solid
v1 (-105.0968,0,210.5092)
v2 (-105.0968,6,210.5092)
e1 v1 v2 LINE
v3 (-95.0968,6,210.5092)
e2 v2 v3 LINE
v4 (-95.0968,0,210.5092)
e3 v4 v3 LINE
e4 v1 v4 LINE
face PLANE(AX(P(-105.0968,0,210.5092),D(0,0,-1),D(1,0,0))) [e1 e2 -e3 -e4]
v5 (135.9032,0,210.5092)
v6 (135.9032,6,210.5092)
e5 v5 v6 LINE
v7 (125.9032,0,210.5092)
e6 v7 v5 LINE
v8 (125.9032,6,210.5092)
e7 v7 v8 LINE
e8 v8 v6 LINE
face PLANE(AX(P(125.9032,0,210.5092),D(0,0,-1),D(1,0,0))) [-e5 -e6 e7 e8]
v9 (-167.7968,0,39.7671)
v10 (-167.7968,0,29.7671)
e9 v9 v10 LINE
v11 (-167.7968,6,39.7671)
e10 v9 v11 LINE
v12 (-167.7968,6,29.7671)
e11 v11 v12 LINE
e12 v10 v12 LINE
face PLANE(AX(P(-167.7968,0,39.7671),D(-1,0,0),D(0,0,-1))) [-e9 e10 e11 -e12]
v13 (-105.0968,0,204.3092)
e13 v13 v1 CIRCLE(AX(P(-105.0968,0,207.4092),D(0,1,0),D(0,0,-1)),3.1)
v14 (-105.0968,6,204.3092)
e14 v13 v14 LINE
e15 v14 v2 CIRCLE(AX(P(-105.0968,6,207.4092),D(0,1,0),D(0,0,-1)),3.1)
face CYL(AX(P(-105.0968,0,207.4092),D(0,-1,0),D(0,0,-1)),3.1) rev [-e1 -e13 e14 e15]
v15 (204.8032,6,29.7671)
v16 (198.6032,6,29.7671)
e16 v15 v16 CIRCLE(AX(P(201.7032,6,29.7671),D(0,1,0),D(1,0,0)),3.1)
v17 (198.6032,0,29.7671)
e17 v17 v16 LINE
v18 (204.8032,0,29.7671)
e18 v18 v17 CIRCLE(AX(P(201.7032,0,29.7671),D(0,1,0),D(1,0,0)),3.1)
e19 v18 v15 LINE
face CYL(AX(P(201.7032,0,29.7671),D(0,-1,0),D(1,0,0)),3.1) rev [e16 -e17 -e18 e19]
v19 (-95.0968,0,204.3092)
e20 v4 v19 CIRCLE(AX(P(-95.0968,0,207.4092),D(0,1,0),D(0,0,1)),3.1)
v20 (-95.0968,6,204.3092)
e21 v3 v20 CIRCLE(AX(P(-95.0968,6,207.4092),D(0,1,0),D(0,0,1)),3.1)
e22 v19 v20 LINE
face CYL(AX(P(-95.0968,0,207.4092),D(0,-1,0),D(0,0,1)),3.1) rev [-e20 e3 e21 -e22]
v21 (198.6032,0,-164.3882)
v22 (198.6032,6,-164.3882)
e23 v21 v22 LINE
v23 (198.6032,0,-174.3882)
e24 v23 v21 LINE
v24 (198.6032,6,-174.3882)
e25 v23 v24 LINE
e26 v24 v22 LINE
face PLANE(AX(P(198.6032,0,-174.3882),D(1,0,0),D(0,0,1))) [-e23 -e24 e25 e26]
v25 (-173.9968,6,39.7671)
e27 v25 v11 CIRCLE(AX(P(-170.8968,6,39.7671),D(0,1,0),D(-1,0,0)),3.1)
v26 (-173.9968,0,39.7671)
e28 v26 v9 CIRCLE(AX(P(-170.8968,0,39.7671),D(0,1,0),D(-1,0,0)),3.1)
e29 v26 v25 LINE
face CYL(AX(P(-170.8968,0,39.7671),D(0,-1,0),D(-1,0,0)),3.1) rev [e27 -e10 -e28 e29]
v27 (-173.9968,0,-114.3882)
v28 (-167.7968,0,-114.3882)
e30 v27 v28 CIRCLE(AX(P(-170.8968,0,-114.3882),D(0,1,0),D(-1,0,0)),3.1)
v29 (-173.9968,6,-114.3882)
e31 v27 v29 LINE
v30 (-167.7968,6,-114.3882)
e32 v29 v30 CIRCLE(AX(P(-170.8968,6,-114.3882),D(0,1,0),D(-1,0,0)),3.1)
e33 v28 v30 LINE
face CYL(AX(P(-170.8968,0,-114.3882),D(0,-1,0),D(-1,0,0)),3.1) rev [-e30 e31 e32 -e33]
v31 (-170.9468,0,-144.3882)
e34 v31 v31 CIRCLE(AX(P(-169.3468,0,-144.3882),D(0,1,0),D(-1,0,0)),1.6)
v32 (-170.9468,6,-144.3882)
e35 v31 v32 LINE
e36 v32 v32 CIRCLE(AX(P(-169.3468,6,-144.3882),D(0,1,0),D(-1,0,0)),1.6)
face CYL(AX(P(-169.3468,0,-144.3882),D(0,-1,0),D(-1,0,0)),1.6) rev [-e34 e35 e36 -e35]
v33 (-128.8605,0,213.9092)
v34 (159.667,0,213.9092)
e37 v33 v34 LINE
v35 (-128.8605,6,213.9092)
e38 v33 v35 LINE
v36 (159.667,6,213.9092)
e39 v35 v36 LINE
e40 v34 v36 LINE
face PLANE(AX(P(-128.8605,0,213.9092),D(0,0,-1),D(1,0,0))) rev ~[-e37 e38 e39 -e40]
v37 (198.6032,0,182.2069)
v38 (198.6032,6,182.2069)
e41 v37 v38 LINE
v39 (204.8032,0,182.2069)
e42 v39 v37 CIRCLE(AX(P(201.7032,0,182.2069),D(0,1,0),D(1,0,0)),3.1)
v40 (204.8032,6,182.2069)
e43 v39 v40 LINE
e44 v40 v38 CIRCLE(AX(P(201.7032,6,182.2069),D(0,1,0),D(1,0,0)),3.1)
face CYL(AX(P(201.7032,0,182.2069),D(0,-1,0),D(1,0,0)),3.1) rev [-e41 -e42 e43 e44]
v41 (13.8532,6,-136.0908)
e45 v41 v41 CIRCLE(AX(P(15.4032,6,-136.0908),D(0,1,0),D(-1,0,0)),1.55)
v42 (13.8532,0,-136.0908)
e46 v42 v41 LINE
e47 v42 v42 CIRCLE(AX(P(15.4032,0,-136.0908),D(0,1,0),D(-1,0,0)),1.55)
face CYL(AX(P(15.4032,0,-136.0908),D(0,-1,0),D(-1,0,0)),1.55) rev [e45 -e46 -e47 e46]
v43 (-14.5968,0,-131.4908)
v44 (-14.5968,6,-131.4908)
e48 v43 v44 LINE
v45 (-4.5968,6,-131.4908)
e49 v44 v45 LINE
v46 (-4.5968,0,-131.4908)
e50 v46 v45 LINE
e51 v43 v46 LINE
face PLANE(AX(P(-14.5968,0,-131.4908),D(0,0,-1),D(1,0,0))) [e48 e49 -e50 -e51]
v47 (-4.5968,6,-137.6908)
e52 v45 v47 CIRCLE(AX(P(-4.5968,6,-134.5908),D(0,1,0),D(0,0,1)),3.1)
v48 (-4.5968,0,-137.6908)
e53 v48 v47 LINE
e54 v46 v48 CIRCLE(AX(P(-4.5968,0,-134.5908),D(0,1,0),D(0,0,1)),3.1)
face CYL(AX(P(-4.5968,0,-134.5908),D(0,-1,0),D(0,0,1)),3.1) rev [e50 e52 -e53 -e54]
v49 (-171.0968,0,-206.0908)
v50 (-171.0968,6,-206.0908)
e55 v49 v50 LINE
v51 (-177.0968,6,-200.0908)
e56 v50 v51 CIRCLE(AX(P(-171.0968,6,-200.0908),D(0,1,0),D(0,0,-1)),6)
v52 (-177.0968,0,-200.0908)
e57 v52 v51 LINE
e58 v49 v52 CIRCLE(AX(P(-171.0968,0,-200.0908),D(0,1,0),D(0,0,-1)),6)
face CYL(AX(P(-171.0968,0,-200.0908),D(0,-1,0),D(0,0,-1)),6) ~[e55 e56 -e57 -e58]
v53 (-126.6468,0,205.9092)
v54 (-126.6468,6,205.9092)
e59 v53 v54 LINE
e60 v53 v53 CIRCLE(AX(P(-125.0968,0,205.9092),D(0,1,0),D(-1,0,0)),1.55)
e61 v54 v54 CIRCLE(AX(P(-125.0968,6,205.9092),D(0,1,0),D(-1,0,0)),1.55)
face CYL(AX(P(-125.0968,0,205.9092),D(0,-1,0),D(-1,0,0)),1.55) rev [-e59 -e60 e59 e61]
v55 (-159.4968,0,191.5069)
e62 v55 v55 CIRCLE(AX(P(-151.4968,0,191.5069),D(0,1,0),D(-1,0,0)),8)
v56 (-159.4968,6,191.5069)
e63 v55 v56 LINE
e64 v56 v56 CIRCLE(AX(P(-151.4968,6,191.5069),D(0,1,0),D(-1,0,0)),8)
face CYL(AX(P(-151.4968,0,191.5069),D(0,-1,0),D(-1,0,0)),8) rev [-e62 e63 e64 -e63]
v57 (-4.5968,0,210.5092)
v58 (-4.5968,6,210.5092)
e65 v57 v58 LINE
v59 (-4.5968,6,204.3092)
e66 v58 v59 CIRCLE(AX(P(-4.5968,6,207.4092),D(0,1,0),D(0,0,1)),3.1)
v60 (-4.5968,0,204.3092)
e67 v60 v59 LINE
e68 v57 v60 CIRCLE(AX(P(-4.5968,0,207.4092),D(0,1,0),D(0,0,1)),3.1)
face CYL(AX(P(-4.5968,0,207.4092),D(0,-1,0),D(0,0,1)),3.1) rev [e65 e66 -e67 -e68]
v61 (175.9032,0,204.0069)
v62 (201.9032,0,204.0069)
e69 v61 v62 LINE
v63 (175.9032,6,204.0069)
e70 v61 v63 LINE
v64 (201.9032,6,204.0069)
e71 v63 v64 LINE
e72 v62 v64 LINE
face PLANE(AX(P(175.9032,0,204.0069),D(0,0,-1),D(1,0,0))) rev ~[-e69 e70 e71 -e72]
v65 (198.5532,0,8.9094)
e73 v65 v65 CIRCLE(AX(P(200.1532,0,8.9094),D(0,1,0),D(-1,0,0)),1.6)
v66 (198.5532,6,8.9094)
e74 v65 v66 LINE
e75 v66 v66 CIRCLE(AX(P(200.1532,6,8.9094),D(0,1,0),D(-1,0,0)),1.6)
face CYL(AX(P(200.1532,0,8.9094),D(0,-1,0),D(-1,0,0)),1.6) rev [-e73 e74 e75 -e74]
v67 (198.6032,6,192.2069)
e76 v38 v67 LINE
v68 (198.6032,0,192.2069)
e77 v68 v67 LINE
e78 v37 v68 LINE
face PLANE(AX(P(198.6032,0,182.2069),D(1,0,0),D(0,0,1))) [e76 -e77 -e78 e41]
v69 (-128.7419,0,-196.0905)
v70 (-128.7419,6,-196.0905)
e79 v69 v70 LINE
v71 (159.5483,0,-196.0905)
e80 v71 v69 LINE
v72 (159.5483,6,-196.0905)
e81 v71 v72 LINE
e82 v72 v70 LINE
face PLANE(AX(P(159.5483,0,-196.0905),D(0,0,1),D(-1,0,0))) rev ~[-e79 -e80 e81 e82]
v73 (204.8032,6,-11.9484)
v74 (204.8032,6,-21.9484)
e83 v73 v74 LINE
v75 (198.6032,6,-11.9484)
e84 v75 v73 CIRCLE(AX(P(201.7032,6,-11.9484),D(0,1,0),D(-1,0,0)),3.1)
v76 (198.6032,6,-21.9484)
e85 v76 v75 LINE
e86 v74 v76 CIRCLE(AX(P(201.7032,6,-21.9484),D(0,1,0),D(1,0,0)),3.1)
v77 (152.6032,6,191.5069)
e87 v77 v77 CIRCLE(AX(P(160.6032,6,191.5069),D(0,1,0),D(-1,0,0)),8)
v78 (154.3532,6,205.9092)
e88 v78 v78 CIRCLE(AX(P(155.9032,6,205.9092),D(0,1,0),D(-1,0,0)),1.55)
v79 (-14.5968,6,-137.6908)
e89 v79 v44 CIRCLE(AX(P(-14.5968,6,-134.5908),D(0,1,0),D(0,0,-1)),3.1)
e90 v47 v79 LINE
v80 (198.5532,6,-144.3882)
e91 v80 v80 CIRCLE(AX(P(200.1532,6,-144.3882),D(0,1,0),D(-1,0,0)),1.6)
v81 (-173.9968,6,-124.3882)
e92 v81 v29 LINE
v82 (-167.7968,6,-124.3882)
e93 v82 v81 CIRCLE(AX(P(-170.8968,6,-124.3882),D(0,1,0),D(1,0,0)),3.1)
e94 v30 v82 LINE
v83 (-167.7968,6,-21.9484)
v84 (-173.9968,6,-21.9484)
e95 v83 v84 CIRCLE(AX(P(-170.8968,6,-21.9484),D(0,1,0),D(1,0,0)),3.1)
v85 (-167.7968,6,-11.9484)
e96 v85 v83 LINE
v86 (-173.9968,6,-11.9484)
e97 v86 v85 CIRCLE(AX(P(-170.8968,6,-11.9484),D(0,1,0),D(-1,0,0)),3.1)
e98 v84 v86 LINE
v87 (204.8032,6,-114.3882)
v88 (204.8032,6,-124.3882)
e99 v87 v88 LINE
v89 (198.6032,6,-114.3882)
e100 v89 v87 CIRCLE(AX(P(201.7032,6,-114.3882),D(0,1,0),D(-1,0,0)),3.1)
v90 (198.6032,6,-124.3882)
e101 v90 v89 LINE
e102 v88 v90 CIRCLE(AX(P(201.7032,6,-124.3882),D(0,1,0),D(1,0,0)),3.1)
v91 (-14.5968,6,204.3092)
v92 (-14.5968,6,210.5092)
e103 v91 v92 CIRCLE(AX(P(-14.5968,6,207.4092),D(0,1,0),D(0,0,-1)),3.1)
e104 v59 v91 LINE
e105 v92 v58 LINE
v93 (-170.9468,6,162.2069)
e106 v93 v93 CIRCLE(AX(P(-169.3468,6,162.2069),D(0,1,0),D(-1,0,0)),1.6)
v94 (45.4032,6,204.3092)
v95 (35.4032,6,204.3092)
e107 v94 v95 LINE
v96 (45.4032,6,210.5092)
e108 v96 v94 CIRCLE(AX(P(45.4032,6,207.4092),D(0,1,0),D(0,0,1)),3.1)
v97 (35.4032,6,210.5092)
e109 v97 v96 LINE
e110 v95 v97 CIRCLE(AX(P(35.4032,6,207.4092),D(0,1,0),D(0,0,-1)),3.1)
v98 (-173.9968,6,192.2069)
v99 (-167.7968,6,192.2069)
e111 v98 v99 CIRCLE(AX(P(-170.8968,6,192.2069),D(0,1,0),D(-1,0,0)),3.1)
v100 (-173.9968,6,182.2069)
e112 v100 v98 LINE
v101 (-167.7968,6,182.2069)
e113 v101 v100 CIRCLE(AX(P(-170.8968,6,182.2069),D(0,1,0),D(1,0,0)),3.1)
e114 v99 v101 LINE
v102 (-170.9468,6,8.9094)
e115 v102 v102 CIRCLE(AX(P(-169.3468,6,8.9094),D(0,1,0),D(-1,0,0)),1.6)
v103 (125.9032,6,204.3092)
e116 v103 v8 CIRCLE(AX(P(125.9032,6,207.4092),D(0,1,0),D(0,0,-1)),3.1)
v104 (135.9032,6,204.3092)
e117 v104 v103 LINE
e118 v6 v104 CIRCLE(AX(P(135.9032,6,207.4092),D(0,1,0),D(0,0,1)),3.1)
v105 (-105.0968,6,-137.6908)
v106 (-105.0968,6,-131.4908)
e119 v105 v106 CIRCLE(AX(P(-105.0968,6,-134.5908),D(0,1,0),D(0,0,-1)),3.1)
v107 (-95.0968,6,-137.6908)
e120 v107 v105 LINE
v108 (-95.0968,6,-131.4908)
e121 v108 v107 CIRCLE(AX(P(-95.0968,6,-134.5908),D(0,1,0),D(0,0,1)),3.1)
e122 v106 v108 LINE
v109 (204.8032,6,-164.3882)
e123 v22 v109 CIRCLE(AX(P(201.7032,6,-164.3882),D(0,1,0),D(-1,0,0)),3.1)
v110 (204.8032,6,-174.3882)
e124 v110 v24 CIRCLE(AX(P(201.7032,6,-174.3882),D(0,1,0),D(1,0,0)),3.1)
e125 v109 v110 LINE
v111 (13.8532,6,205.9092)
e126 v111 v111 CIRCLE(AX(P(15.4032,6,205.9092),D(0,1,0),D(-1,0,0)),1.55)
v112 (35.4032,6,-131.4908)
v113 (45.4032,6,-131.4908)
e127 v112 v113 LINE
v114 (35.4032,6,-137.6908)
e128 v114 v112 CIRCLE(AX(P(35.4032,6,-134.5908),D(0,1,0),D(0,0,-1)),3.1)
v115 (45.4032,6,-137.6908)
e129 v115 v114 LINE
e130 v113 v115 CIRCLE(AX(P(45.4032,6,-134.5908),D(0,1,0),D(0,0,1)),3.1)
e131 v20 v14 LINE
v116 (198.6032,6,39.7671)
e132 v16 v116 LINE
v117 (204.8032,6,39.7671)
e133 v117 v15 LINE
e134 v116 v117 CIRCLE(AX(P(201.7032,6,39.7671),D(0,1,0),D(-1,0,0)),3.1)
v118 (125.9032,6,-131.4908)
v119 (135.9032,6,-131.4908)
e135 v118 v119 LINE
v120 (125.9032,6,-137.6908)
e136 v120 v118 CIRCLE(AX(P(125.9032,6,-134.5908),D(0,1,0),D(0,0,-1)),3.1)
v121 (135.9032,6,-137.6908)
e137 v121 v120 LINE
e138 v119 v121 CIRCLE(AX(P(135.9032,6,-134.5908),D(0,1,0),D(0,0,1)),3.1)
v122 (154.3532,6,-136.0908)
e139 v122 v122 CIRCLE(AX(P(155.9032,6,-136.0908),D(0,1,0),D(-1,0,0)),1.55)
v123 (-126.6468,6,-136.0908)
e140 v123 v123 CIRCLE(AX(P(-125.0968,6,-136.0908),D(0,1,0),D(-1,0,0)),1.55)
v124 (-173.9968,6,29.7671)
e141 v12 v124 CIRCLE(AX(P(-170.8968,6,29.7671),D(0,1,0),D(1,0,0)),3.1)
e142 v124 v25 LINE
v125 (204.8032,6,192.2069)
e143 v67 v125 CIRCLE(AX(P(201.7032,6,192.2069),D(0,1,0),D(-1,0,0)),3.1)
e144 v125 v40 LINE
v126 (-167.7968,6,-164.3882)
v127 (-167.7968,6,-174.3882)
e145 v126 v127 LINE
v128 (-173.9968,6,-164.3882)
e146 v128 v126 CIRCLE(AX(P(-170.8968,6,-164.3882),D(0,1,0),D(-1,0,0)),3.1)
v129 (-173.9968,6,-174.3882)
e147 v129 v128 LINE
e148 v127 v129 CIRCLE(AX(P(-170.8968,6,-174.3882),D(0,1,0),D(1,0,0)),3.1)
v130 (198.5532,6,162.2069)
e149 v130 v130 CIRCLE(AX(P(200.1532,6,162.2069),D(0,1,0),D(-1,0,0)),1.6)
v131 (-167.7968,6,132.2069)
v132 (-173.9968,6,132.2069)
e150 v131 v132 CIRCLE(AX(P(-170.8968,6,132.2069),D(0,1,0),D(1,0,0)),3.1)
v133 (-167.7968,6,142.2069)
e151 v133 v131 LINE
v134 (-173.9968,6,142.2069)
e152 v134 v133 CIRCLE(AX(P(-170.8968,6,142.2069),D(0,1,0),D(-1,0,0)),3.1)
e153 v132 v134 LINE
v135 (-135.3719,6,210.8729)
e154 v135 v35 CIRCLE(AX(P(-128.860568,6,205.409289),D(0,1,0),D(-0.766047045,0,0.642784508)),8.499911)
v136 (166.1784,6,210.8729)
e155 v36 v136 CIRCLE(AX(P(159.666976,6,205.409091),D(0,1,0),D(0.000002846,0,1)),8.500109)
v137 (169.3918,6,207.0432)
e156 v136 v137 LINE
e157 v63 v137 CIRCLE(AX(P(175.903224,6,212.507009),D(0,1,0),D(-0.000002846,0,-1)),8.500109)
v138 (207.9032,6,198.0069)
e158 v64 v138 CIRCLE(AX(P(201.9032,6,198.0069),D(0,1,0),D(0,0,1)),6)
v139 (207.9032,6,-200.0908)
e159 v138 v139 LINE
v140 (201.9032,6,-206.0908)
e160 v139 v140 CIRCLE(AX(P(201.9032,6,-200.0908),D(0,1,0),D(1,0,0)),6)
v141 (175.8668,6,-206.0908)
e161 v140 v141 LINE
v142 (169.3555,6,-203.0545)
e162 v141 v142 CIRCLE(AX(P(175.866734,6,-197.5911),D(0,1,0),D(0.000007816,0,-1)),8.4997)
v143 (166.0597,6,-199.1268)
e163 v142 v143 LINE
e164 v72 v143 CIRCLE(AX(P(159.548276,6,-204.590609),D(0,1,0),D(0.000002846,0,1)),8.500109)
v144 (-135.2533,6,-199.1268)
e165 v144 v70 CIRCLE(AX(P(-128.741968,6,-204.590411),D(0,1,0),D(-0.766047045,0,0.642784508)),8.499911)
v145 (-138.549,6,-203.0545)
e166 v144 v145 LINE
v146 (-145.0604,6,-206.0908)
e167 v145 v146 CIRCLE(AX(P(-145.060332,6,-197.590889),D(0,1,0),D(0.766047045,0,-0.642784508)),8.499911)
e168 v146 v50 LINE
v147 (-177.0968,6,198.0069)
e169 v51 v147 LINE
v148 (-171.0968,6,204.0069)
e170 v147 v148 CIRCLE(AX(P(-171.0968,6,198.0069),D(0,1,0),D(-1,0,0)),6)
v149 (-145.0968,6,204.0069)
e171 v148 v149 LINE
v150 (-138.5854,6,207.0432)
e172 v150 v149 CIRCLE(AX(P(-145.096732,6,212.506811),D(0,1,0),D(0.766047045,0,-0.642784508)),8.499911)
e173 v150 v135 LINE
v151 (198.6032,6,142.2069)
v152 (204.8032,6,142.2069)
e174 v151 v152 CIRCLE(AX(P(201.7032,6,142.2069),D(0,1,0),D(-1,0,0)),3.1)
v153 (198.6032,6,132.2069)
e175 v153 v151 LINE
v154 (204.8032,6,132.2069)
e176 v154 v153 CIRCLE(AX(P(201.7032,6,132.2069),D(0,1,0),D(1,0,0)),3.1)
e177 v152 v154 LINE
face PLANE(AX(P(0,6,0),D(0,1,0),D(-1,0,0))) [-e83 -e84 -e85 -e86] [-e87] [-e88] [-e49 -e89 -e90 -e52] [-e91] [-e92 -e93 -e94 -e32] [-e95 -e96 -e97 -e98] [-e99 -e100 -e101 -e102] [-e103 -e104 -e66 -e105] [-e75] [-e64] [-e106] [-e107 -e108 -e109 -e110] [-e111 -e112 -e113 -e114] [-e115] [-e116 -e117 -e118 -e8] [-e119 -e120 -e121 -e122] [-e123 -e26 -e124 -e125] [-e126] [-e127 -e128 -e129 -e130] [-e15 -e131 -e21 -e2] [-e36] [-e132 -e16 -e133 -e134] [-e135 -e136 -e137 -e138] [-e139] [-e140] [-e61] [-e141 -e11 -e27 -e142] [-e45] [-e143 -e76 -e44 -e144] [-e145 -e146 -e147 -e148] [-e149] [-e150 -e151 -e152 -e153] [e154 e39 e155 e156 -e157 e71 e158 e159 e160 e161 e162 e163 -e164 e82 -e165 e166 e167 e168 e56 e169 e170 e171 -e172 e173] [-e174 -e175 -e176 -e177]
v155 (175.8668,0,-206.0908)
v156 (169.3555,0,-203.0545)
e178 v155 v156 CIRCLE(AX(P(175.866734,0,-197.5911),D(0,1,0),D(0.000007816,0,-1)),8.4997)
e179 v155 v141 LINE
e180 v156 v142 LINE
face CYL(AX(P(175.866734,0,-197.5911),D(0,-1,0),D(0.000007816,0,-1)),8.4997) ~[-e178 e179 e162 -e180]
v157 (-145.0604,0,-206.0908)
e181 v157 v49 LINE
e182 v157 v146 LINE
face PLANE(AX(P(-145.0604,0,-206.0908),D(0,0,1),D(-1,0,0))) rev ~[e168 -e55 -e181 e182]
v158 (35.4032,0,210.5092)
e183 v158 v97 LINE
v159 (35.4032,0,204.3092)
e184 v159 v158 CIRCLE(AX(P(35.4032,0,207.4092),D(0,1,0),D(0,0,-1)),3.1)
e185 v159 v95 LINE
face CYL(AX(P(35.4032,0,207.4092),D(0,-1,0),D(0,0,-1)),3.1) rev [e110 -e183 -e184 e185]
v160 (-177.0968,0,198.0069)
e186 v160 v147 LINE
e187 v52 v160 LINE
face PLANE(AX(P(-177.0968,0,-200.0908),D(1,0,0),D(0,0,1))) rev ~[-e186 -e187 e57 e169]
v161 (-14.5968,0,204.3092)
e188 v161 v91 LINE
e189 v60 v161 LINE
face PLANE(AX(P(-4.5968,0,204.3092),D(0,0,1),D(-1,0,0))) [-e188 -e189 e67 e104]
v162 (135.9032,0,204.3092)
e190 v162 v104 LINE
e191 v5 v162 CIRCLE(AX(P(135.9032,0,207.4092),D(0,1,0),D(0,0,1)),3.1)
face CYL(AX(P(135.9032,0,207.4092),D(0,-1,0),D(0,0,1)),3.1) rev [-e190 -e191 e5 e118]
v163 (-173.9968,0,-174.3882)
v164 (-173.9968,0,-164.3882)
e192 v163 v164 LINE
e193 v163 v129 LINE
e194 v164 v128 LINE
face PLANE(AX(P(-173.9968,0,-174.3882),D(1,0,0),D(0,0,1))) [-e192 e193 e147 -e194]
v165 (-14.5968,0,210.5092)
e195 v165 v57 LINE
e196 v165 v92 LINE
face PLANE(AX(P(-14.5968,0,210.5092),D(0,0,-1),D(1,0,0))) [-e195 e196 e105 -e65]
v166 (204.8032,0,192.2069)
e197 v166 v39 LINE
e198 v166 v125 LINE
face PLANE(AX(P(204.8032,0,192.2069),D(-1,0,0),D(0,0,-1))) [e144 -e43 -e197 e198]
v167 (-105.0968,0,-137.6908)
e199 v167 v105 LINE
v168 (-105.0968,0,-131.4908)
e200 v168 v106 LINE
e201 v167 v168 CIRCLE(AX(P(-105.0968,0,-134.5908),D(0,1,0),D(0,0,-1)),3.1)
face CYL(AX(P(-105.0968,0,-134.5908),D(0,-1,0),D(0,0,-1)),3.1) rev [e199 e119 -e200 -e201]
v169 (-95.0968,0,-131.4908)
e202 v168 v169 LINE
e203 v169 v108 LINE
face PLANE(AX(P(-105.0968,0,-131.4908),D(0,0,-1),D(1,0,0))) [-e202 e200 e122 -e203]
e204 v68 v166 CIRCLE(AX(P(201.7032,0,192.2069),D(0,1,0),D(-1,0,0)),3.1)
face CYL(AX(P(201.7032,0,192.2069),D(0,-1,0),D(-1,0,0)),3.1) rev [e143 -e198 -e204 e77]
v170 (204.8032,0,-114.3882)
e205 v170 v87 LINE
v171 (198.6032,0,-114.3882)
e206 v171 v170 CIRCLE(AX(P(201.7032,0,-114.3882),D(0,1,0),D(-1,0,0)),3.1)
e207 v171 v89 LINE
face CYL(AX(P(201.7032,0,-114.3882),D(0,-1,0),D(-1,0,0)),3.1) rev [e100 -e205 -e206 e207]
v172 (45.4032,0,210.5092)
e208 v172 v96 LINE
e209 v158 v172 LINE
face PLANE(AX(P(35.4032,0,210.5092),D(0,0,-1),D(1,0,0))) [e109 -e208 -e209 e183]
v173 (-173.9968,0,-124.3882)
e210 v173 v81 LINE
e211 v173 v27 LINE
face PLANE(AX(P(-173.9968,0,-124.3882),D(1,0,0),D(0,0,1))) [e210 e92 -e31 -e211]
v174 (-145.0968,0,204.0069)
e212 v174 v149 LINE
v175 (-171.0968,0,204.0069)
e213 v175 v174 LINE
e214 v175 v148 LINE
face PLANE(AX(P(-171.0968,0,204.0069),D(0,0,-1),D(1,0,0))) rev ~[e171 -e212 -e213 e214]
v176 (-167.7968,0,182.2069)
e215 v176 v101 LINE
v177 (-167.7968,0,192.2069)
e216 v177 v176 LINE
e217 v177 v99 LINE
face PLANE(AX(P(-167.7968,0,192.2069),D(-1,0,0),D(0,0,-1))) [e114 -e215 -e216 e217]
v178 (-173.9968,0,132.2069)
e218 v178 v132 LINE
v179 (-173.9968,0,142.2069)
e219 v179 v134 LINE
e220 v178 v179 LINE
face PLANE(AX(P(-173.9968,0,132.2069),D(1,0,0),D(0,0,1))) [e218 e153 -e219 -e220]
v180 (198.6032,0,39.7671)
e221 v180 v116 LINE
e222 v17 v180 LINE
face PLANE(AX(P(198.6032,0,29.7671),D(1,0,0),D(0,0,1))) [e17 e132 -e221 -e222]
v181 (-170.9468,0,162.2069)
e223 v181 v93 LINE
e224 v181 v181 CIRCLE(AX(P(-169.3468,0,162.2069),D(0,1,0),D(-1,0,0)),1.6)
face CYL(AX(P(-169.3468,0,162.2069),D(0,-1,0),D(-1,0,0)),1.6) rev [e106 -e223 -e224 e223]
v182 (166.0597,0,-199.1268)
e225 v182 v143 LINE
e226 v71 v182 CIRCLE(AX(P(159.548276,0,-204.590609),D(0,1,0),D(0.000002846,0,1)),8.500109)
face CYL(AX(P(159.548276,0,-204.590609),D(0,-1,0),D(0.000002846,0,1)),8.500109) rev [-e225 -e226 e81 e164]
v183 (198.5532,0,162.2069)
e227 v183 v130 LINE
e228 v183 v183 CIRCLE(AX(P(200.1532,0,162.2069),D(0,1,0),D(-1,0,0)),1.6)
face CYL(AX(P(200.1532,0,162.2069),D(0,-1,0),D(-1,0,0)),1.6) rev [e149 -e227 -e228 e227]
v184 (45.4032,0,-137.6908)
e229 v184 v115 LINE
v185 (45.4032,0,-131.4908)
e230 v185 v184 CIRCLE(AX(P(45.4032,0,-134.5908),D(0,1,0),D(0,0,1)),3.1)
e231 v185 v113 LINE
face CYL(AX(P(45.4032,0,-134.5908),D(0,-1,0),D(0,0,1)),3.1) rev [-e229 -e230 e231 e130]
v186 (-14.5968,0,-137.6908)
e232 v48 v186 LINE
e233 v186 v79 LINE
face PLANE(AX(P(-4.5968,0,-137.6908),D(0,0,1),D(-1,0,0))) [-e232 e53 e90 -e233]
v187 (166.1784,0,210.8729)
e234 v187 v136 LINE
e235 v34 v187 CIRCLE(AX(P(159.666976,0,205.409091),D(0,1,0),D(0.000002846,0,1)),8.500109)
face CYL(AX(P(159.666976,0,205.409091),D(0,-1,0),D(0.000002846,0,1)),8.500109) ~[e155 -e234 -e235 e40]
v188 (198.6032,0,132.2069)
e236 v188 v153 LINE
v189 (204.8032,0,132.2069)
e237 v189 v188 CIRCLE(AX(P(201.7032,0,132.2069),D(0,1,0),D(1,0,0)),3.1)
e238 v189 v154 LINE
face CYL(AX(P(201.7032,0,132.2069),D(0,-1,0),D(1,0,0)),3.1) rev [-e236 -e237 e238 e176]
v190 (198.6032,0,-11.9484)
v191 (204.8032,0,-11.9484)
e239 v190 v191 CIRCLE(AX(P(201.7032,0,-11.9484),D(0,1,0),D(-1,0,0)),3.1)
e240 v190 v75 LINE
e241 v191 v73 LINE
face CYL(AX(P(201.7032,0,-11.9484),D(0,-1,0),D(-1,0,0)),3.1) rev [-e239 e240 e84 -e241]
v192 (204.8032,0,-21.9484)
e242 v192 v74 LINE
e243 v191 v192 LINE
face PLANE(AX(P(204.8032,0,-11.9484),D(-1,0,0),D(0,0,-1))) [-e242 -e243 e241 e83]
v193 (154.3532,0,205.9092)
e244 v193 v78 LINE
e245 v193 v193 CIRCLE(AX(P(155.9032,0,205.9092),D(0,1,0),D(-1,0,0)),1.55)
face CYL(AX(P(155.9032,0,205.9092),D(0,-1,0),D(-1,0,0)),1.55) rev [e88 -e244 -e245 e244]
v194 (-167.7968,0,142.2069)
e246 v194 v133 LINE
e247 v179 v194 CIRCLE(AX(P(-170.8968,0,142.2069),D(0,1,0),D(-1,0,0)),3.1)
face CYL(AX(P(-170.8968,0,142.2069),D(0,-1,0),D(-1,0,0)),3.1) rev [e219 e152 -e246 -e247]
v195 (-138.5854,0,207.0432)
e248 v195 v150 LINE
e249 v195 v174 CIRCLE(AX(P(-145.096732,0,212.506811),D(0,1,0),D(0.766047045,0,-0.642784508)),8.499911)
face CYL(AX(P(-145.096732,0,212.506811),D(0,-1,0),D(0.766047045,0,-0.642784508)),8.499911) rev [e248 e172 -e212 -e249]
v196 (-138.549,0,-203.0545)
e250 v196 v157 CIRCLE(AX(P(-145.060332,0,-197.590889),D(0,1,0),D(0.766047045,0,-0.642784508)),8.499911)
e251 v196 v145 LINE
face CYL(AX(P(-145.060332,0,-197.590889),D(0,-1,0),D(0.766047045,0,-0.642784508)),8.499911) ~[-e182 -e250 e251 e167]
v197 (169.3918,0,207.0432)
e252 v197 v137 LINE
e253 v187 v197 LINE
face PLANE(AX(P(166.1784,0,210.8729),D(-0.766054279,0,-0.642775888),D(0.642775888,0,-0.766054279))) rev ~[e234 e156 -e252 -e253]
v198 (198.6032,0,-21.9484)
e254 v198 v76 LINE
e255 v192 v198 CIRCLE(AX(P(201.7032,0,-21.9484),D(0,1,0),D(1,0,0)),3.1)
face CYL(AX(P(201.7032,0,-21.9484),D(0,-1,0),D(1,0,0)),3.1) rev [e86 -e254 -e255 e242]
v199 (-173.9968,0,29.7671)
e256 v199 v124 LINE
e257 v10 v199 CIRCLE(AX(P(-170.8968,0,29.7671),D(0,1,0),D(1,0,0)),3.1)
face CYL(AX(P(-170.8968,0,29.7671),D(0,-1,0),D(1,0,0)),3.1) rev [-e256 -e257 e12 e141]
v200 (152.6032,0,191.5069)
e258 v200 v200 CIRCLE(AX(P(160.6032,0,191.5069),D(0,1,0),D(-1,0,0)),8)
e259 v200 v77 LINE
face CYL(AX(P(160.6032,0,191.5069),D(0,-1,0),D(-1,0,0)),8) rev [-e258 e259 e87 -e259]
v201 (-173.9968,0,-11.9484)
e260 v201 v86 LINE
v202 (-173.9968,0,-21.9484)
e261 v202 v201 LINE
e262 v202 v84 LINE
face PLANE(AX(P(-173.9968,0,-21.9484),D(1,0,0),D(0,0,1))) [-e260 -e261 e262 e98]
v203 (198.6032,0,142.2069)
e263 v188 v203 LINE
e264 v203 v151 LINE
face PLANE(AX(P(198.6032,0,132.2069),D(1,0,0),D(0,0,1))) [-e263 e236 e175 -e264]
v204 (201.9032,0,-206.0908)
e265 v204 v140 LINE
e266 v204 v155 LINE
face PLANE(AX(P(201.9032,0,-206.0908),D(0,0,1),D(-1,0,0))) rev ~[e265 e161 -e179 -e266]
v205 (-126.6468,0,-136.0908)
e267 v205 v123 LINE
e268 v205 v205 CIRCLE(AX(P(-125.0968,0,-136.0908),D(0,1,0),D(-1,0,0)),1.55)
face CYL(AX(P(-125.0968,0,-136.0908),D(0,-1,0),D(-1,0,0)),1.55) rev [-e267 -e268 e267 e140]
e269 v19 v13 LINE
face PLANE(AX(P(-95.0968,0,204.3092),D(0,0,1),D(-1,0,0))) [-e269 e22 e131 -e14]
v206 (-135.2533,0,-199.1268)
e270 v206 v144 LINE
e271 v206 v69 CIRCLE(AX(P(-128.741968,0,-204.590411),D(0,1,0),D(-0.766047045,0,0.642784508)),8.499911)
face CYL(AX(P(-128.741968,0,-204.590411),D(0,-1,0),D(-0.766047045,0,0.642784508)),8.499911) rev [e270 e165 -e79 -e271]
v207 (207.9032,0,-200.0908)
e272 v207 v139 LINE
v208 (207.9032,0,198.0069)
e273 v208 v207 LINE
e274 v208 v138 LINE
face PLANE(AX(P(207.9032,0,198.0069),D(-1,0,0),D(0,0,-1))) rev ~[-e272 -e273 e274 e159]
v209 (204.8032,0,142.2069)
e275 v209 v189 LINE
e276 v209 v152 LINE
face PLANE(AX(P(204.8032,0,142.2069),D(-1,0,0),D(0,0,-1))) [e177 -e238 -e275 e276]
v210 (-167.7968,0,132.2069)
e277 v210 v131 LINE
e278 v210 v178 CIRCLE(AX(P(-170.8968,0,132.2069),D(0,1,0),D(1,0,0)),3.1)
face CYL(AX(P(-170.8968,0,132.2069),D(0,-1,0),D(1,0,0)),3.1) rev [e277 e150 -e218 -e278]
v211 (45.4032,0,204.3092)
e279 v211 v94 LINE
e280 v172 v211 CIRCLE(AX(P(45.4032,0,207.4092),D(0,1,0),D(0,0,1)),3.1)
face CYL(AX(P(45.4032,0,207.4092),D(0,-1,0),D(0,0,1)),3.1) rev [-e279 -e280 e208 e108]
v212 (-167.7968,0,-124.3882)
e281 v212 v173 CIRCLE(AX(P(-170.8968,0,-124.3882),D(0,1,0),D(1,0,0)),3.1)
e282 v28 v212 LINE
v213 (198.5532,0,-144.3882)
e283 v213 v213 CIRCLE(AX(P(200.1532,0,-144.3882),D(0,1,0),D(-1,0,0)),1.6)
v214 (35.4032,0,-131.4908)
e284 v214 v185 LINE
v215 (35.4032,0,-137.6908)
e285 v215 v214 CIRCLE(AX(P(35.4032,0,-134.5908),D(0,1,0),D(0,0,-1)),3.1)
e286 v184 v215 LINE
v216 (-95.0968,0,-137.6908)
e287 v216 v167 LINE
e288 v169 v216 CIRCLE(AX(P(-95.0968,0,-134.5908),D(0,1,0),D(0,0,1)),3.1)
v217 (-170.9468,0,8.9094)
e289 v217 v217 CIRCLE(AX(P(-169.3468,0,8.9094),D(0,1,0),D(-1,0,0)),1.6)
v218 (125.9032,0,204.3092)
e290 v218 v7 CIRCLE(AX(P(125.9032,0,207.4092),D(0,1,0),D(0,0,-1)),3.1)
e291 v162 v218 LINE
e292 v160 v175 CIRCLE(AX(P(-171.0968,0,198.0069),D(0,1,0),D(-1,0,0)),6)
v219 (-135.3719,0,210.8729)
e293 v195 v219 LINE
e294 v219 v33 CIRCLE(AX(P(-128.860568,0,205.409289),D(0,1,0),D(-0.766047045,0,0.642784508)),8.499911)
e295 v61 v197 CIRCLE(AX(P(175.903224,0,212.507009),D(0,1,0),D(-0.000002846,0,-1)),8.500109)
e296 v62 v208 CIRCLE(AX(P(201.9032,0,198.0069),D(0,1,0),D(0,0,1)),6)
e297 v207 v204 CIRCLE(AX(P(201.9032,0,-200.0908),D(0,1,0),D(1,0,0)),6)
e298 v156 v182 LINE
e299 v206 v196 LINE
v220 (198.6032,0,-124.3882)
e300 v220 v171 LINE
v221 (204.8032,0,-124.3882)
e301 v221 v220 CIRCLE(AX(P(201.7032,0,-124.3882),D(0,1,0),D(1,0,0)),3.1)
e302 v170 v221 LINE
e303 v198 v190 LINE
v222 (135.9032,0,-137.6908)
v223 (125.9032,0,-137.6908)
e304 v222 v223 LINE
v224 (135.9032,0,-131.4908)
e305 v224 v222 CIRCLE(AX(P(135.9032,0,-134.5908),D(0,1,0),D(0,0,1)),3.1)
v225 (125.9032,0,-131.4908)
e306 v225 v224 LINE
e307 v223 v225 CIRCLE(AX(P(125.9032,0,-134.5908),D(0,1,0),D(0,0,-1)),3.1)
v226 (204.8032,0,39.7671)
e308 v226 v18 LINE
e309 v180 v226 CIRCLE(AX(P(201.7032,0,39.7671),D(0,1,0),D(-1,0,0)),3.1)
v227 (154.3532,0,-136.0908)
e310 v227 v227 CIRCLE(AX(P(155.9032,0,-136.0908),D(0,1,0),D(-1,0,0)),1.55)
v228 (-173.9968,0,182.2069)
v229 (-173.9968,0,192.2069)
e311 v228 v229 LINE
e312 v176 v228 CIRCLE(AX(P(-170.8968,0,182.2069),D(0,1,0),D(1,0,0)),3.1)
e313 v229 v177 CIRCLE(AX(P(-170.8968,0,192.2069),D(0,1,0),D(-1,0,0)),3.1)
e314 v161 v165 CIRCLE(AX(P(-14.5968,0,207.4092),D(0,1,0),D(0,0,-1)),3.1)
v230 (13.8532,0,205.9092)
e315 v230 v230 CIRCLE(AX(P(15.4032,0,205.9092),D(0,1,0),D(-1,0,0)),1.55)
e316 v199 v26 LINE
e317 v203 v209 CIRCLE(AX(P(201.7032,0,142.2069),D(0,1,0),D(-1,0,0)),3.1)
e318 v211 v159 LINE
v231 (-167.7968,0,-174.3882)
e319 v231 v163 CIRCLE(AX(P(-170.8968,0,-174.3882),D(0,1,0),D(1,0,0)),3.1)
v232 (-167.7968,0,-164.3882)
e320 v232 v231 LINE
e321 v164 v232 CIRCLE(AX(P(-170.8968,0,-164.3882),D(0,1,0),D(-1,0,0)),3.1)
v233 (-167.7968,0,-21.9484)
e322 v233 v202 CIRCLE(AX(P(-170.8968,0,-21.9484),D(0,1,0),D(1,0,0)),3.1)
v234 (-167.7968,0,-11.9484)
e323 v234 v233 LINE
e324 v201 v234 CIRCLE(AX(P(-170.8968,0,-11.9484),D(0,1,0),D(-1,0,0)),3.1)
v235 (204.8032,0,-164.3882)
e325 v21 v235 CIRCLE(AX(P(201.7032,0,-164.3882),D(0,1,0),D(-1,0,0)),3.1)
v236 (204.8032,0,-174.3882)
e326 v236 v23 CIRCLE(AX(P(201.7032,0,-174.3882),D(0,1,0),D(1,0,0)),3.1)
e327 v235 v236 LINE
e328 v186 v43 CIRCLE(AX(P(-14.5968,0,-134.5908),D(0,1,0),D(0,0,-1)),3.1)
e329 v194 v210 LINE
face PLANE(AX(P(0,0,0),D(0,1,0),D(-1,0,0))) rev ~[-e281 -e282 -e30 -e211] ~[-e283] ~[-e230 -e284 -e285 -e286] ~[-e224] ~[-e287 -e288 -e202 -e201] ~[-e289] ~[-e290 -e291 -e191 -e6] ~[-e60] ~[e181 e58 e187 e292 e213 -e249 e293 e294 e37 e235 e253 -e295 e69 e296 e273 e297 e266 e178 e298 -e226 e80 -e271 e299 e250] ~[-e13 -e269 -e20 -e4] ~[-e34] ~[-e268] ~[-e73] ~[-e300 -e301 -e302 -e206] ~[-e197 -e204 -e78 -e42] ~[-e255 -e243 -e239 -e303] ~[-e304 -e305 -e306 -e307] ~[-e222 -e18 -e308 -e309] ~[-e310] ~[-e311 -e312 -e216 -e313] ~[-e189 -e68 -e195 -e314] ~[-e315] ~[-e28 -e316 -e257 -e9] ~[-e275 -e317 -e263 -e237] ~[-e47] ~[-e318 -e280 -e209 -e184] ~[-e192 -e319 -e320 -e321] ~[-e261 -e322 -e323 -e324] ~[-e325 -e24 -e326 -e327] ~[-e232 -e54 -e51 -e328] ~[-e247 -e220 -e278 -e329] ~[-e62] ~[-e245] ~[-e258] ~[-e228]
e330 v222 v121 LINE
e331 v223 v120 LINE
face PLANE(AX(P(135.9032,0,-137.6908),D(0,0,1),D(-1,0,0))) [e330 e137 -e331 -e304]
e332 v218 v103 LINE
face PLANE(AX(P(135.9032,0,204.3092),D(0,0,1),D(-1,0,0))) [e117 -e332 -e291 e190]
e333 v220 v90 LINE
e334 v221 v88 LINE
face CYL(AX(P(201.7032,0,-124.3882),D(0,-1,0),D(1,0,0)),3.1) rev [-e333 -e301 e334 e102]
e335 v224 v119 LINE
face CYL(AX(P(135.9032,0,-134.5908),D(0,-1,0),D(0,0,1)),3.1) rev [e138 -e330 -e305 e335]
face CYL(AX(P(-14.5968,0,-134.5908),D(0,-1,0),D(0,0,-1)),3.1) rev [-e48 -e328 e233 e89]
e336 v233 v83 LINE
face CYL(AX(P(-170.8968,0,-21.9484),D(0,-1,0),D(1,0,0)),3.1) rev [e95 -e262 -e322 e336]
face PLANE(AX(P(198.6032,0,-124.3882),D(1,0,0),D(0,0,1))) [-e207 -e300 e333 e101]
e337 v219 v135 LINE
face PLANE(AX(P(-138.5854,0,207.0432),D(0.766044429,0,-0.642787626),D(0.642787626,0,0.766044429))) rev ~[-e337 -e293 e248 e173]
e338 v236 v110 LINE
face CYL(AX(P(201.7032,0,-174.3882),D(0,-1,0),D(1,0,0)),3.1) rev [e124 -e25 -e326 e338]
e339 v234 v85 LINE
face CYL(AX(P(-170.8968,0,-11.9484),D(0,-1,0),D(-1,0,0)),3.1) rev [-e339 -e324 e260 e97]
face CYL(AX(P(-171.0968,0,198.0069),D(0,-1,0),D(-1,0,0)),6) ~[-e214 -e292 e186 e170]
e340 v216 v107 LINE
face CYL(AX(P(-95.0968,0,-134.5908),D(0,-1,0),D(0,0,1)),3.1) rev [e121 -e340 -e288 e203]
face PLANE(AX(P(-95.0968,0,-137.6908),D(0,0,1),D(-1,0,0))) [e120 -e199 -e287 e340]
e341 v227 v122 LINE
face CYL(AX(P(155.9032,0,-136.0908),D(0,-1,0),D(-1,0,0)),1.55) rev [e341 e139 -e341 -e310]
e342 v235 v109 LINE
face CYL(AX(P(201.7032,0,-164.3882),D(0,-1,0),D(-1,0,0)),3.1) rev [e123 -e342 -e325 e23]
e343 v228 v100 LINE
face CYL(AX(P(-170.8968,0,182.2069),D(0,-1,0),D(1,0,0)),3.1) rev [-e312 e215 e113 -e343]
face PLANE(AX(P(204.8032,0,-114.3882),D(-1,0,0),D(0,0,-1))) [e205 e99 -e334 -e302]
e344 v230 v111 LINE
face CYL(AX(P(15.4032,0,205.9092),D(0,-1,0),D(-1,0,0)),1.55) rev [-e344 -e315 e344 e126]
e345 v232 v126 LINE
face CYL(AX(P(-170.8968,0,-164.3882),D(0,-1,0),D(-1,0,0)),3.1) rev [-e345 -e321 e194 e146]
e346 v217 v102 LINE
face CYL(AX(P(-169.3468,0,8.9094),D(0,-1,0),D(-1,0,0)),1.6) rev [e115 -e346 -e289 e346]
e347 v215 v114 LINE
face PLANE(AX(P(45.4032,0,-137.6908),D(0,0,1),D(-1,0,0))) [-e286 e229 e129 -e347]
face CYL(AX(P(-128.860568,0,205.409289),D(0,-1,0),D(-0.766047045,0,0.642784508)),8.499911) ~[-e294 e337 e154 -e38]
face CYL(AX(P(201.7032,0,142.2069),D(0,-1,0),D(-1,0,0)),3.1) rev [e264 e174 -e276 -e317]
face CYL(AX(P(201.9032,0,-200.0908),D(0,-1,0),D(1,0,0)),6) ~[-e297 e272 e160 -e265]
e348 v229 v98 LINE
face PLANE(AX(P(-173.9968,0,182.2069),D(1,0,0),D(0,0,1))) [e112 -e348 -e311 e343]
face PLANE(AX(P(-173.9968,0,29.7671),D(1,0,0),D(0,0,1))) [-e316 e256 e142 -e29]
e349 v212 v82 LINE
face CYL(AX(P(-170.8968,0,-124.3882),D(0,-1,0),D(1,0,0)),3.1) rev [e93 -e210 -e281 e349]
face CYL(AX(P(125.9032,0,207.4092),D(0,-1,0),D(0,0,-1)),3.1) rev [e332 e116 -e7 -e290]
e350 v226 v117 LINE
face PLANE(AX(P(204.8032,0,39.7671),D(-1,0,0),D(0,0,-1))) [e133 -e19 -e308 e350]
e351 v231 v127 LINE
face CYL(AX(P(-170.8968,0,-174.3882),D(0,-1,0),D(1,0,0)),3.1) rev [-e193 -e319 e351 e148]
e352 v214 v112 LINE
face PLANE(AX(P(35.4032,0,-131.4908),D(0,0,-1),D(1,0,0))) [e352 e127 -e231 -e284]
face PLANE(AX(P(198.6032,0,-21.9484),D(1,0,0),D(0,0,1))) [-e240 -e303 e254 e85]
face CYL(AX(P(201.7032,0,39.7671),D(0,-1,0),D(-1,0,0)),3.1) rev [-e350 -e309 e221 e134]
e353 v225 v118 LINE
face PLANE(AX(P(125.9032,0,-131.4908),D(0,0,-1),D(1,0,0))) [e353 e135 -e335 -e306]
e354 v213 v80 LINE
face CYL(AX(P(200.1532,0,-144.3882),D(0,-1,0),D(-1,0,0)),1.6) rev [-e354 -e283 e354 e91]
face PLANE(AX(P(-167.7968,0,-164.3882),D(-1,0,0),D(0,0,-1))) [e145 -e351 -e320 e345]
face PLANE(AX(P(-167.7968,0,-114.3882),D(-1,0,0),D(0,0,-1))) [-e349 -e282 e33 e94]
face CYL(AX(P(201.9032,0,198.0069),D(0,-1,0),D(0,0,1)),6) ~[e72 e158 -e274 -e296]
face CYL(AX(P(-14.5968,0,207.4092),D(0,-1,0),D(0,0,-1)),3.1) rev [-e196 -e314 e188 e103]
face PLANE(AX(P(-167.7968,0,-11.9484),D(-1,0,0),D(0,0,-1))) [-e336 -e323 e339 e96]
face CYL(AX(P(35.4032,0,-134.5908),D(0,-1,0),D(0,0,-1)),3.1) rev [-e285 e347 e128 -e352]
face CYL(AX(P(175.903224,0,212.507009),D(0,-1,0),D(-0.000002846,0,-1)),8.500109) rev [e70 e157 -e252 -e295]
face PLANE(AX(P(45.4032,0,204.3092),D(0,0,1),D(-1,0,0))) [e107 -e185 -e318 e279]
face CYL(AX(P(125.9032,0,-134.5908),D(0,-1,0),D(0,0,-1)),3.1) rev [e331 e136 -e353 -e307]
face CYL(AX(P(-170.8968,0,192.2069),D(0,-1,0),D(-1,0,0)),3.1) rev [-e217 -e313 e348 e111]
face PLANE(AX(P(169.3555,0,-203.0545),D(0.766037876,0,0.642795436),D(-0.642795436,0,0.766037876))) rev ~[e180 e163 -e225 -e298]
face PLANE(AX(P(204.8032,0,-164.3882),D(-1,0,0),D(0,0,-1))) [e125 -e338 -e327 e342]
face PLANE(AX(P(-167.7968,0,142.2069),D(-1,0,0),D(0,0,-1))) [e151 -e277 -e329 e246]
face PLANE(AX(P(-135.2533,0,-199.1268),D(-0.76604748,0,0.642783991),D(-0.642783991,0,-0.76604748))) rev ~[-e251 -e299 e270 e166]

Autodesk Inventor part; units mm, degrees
ref_plane "YZ Plane" through (0, 0, 0) normal (1, 0, 0) x (0, 1, 0)
ref_plane "XZ Plane" through (0, 0, 0) normal (0, 1, 0) x (-1, 0, 0)
ref_plane "XY Plane" through (0, 0, 0) normal (0, 0, 1) x (1, 0, 0)
sketch "Sketch1" plane through (0, 0, 0) normal (0, 1, 0) x (-1, 0, 0)
  line L0 (173.9968, 182.2069) -> (173.9968, 192.2069)
  arc A0 (167.7968, 182.2069) -> (173.9968, 182.2069) centre (170.8968, 182.2069) ccw
  line L1 (167.7968, 192.2069) -> (167.7968, 182.2069)
  arc A1 (173.9968, 192.2069) -> (167.7968, 192.2069) centre (170.8968, 192.2069) ccw
  line L2 (14.5968, -131.4908) -> (4.5968, -131.4908)
  arc A2 (14.5968, -137.6908) -> (14.5968, -131.4908) centre (14.5968, -134.5908) ccw
  line L3 (4.5968, -137.6908) -> (14.5968, -137.6908)
  arc A3 (4.5968, -131.4908) -> (4.5968, -137.6908) centre (4.5968, -134.5908) ccw
  line L4 (105.0968, -131.4908) -> (95.0968, -131.4908)
  arc A4 (105.0968, -137.6908) -> (105.0968, -131.4908) centre (105.0968, -134.5908) ccw
  line L5 (95.0968, -137.6908) -> (105.0968, -137.6908)
  arc A5 (95.0968, -131.4908) -> (95.0968, -137.6908) centre (95.0968, -134.5908) ccw
  line L6 (-135.9032, -137.6908) -> (-125.9032, -137.6908)
  arc A6 (-135.9032, -131.4908) -> (-135.9032, -137.6908) centre (-135.9032, -134.5908) ccw
  line L7 (-125.9032, -131.4908) -> (-135.9032, -131.4908)
  arc A7 (-125.9032, -137.6908) -> (-125.9032, -131.4908) centre (-125.9032, -134.5908) ccw
  line L8 (-45.4032, -137.6908) -> (-35.4032, -137.6908)
  arc A8 (-45.4032, -131.4908) -> (-45.4032, -137.6908) centre (-45.4032, -134.5908) ccw
  line L9 (-35.4032, -131.4908) -> (-45.4032, -131.4908)
  arc A9 (-35.4032, -137.6908) -> (-35.4032, -131.4908) centre (-35.4032, -134.5908) ccw
  line L10 (14.5968, 210.5092) -> (4.5968, 210.5092)
  arc A10 (14.5968, 204.3092) -> (14.5968, 210.5092) centre (14.5968, 207.4092) ccw
  line L11 (4.5968, 204.3092) -> (14.5968, 204.3092)
  arc A11 (4.5968, 210.5092) -> (4.5968, 204.3092) centre (4.5968, 207.4092) ccw
  line L12 (105.0968, 210.5092) -> (95.0968, 210.5092)
  arc A12 (105.0968, 204.3092) -> (105.0968, 210.5092) centre (105.0968, 207.4092) ccw
  line L13 (95.0968, 204.3092) -> (105.0968, 204.3092)
  arc A13 (95.0968, 210.5092) -> (95.0968, 204.3092) centre (95.0968, 207.4092) ccw
  line L14 (-135.9032, 204.3092) -> (-125.9032, 204.3092)
  arc A14 (-135.9032, 210.5092) -> (-135.9032, 204.3092) centre (-135.9032, 207.4092) ccw
  line L15 (-125.9032, 210.5092) -> (-135.9032, 210.5092)
  arc A15 (-125.9032, 204.3092) -> (-125.9032, 210.5092) centre (-125.9032, 207.4092) ccw
  line L16 (-45.4032, 204.3092) -> (-35.4032, 204.3092)
  arc A16 (-45.4032, 210.5092) -> (-45.4032, 204.3092) centre (-45.4032, 207.4092) ccw
  line L17 (-35.4032, 210.5092) -> (-45.4032, 210.5092)
  arc A17 (-35.4032, 204.3092) -> (-35.4032, 210.5092) centre (-35.4032, 207.4092) ccw
  line L18 (173.9968, 132.2069) -> (173.9968, 142.2069)
  arc A18 (167.7968, 132.2069) -> (173.9968, 132.2069) centre (170.8968, 132.2069) ccw
  line L19 (167.7968, 142.2069) -> (167.7968, 132.2069)
  arc A19 (173.9968, 142.2069) -> (167.7968, 142.2069) centre (170.8968, 142.2069) ccw
  line L20 (173.9968, 29.7671) -> (173.9968, 39.7671)
  arc A20 (167.7968, 29.7671) -> (173.9968, 29.7671) centre (170.8968, 29.7671) ccw
  line L21 (167.7968, 39.7671) -> (167.7968, 29.7671)
  arc A21 (173.9968, 39.7671) -> (167.7968, 39.7671) centre (170.8968, 39.7671) ccw
  line L22 (173.9968, -21.9484) -> (173.9968, -11.9484)
  arc A22 (167.7968, -21.9484) -> (173.9968, -21.9484) centre (170.8968, -21.9484) ccw
  line L23 (167.7968, -11.9484) -> (167.7968, -21.9484)
  arc A23 (173.9968, -11.9484) -> (167.7968, -11.9484) centre (170.8968, -11.9484) ccw
  line L24 (173.9968, -124.3882) -> (173.9968, -114.3882)
  arc A24 (167.7968, -124.3882) -> (173.9968, -124.3882) centre (170.8968, -124.3882) ccw
  line L25 (167.7968, -114.3882) -> (167.7968, -124.3882)
  arc A25 (173.9968, -114.3882) -> (167.7968, -114.3882) centre (170.8968, -114.3882) ccw
  line L26 (173.9968, -174.3882) -> (173.9968, -164.3882)
  arc A26 (167.7968, -174.3882) -> (173.9968, -174.3882) centre (170.8968, -174.3882) ccw
  line L27 (167.7968, -164.3882) -> (167.7968, -174.3882)
  arc A27 (173.9968, -164.3882) -> (167.7968, -164.3882) centre (170.8968, -164.3882) ccw
  line L28 (-204.8032, -11.9484) -> (-204.8032, -21.9484)
  arc A28 (-198.6032, -11.9484) -> (-204.8032, -11.9484) centre (-201.7032, -11.9484) ccw
  line L29 (-198.6032, -21.9484) -> (-198.6032, -11.9484)
  arc A29 (-204.8032, -21.9484) -> (-198.6032, -21.9484) centre (-201.7032, -21.9484) ccw
  line L30 (-204.8032, 39.7671) -> (-204.8032, 29.7671)
  arc A30 (-198.6032, 39.7671) -> (-204.8032, 39.7671) centre (-201.7032, 39.7671) ccw
  line L31 (-198.6032, 29.7671) -> (-198.6032, 39.7671)
  arc A31 (-204.8032, 29.7671) -> (-198.6032, 29.7671) centre (-201.7032, 29.7671) ccw
  line L32 (-204.8032, -164.3882) -> (-204.8032, -174.3882)
  arc A32 (-198.6032, -164.3882) -> (-204.8032, -164.3882) centre (-201.7032, -164.3882) ccw
  line L33 (-198.6032, -174.3882) -> (-198.6032, -164.3882)
  arc A33 (-204.8032, -174.3882) -> (-198.6032, -174.3882) centre (-201.7032, -174.3882) ccw
  line L34 (-204.8032, -114.3882) -> (-204.8032, -124.3882)
  arc A34 (-198.6032, -114.3882) -> (-204.8032, -114.3882) centre (-201.7032, -114.3882) ccw
  line L35 (-198.6032, -124.3882) -> (-198.6032, -114.3882)
  arc A35 (-204.8032, -124.3882) -> (-198.6032, -124.3882) centre (-201.7032, -124.3882) ccw
  line L36 (-204.8032, 142.2069) -> (-204.8032, 132.2069)
  arc A36 (-198.6032, 142.2069) -> (-204.8032, 142.2069) centre (-201.7032, 142.2069) ccw
  line L37 (-198.6032, 132.2069) -> (-198.6032, 142.2069)
  arc A37 (-204.8032, 132.2069) -> (-198.6032, 132.2069) centre (-201.7032, 132.2069) ccw
  line L38 (-204.8032, 192.2069) -> (-204.8032, 182.2069)
  arc A38 (-198.6032, 192.2069) -> (-204.8032, 192.2069) centre (-201.7032, 192.2069) ccw
  line L39 (-198.6032, 182.2069) -> (-198.6032, 192.2069)
  arc A39 (-204.8032, 182.2069) -> (-198.6032, 182.2069) centre (-201.7032, 182.2069) ccw
  circle A40 centre (151.4968, 191.5069) radius 8
  circle A41 centre (-160.6032, 191.5069) radius 8
  arc A42 (135.2533, -199.1268) -> (128.7419, -196.0905) centre (128.7419, -204.5905) ccw
  line L40 (135.2533, -199.1268) -> (138.549, -203.0545)
  arc A43 (138.549, -203.0545) -> (145.0604, -206.0908) centre (145.0604, -197.5908) ccw
  line L41 (145.0604, -206.0908) -> (171.0968, -206.0908)
  arc A44 (171.0968, -206.0908) -> (177.0968, -200.0908) centre (171.0968, -200.0908) ccw
  line L42 (177.0968, -200.0908) -> (177.0968, 198.0069)
  arc A45 (177.0968, 198.0069) -> (171.0968, 204.0069) centre (171.0968, 198.0069) ccw
  line L43 (171.0968, 204.0069) -> (145.0968, 204.0069)
  arc A46 (138.5854, 207.0432) -> (145.0968, 204.0069) centre (145.0968, 212.5069) ccw
  line L44 (138.5854, 207.0432) -> (135.3719, 210.8729)
  arc A47 (135.3719, 210.8729) -> (128.8605, 213.9092) centre (128.8605, 205.4092) ccw
  line L45 (128.8605, 213.9092) -> (-159.667, 213.9092)
  arc A48 (-159.667, 213.9092) -> (-166.1784, 210.8729) centre (-159.667, 205.4092) ccw
  line L46 (-166.1784, 210.8729) -> (-169.3918, 207.0432)
  arc A49 (-175.9032, 204.0069) -> (-169.3918, 207.0432) centre (-175.9032, 212.5069) ccw
  line L47 (-175.9032, 204.0069) -> (-201.9032, 204.0069)
  arc A50 (-201.9032, 204.0069) -> (-207.9032, 198.0069) centre (-201.9032, 198.0069) ccw
  line L48 (-207.9032, 198.0069) -> (-207.9032, -200.0908)
  arc A51 (-207.9032, -200.0908) -> (-201.9032, -206.0908) centre (-201.9032, -200.0908) ccw
  line L49 (-201.9032, -206.0908) -> (-175.8668, -206.0908)
  arc A52 (-175.8668, -206.0908) -> (-169.3555, -203.0545) centre (-175.8668, -197.5908) ccw
  line L50 (-169.3555, -203.0545) -> (-166.0597, -199.1268)
  arc A53 (-159.5483, -196.0905) -> (-166.0597, -199.1268) centre (-159.5483, -204.5905) ccw
  line L51 (-159.5483, -196.0905) -> (128.7419, -196.0905)
  circle A54 centre (-15.4032, 205.9092) radius 1.55
  circle A55 centre (125.0968, 205.9092) radius 1.55
  circle A56 centre (-155.9032, 205.9092) radius 1.55
  circle A57 centre (-15.4032, -136.0908) radius 1.55
  circle A58 centre (125.0968, -136.0908) radius 1.55
  circle A59 centre (-155.9032, -136.0908) radius 1.55
  circle A60 centre (-200.1532, 162.2069) radius 1.6
  circle A61 centre (-200.1532, 8.9094) radius 1.6
  circle A62 centre (-200.1532, -144.3882) radius 1.6
  circle A63 centre (169.3468, -144.3882) radius 1.6
  circle A64 centre (169.3468, 8.9094) radius 1.6
  circle A65 centre (169.3468, 162.2069) radius 1.6
  point P0 (0, 0)
extrude "Extrusion1" add sketch "Sketch1" along normal blind 6
properties part number "painel direito"
